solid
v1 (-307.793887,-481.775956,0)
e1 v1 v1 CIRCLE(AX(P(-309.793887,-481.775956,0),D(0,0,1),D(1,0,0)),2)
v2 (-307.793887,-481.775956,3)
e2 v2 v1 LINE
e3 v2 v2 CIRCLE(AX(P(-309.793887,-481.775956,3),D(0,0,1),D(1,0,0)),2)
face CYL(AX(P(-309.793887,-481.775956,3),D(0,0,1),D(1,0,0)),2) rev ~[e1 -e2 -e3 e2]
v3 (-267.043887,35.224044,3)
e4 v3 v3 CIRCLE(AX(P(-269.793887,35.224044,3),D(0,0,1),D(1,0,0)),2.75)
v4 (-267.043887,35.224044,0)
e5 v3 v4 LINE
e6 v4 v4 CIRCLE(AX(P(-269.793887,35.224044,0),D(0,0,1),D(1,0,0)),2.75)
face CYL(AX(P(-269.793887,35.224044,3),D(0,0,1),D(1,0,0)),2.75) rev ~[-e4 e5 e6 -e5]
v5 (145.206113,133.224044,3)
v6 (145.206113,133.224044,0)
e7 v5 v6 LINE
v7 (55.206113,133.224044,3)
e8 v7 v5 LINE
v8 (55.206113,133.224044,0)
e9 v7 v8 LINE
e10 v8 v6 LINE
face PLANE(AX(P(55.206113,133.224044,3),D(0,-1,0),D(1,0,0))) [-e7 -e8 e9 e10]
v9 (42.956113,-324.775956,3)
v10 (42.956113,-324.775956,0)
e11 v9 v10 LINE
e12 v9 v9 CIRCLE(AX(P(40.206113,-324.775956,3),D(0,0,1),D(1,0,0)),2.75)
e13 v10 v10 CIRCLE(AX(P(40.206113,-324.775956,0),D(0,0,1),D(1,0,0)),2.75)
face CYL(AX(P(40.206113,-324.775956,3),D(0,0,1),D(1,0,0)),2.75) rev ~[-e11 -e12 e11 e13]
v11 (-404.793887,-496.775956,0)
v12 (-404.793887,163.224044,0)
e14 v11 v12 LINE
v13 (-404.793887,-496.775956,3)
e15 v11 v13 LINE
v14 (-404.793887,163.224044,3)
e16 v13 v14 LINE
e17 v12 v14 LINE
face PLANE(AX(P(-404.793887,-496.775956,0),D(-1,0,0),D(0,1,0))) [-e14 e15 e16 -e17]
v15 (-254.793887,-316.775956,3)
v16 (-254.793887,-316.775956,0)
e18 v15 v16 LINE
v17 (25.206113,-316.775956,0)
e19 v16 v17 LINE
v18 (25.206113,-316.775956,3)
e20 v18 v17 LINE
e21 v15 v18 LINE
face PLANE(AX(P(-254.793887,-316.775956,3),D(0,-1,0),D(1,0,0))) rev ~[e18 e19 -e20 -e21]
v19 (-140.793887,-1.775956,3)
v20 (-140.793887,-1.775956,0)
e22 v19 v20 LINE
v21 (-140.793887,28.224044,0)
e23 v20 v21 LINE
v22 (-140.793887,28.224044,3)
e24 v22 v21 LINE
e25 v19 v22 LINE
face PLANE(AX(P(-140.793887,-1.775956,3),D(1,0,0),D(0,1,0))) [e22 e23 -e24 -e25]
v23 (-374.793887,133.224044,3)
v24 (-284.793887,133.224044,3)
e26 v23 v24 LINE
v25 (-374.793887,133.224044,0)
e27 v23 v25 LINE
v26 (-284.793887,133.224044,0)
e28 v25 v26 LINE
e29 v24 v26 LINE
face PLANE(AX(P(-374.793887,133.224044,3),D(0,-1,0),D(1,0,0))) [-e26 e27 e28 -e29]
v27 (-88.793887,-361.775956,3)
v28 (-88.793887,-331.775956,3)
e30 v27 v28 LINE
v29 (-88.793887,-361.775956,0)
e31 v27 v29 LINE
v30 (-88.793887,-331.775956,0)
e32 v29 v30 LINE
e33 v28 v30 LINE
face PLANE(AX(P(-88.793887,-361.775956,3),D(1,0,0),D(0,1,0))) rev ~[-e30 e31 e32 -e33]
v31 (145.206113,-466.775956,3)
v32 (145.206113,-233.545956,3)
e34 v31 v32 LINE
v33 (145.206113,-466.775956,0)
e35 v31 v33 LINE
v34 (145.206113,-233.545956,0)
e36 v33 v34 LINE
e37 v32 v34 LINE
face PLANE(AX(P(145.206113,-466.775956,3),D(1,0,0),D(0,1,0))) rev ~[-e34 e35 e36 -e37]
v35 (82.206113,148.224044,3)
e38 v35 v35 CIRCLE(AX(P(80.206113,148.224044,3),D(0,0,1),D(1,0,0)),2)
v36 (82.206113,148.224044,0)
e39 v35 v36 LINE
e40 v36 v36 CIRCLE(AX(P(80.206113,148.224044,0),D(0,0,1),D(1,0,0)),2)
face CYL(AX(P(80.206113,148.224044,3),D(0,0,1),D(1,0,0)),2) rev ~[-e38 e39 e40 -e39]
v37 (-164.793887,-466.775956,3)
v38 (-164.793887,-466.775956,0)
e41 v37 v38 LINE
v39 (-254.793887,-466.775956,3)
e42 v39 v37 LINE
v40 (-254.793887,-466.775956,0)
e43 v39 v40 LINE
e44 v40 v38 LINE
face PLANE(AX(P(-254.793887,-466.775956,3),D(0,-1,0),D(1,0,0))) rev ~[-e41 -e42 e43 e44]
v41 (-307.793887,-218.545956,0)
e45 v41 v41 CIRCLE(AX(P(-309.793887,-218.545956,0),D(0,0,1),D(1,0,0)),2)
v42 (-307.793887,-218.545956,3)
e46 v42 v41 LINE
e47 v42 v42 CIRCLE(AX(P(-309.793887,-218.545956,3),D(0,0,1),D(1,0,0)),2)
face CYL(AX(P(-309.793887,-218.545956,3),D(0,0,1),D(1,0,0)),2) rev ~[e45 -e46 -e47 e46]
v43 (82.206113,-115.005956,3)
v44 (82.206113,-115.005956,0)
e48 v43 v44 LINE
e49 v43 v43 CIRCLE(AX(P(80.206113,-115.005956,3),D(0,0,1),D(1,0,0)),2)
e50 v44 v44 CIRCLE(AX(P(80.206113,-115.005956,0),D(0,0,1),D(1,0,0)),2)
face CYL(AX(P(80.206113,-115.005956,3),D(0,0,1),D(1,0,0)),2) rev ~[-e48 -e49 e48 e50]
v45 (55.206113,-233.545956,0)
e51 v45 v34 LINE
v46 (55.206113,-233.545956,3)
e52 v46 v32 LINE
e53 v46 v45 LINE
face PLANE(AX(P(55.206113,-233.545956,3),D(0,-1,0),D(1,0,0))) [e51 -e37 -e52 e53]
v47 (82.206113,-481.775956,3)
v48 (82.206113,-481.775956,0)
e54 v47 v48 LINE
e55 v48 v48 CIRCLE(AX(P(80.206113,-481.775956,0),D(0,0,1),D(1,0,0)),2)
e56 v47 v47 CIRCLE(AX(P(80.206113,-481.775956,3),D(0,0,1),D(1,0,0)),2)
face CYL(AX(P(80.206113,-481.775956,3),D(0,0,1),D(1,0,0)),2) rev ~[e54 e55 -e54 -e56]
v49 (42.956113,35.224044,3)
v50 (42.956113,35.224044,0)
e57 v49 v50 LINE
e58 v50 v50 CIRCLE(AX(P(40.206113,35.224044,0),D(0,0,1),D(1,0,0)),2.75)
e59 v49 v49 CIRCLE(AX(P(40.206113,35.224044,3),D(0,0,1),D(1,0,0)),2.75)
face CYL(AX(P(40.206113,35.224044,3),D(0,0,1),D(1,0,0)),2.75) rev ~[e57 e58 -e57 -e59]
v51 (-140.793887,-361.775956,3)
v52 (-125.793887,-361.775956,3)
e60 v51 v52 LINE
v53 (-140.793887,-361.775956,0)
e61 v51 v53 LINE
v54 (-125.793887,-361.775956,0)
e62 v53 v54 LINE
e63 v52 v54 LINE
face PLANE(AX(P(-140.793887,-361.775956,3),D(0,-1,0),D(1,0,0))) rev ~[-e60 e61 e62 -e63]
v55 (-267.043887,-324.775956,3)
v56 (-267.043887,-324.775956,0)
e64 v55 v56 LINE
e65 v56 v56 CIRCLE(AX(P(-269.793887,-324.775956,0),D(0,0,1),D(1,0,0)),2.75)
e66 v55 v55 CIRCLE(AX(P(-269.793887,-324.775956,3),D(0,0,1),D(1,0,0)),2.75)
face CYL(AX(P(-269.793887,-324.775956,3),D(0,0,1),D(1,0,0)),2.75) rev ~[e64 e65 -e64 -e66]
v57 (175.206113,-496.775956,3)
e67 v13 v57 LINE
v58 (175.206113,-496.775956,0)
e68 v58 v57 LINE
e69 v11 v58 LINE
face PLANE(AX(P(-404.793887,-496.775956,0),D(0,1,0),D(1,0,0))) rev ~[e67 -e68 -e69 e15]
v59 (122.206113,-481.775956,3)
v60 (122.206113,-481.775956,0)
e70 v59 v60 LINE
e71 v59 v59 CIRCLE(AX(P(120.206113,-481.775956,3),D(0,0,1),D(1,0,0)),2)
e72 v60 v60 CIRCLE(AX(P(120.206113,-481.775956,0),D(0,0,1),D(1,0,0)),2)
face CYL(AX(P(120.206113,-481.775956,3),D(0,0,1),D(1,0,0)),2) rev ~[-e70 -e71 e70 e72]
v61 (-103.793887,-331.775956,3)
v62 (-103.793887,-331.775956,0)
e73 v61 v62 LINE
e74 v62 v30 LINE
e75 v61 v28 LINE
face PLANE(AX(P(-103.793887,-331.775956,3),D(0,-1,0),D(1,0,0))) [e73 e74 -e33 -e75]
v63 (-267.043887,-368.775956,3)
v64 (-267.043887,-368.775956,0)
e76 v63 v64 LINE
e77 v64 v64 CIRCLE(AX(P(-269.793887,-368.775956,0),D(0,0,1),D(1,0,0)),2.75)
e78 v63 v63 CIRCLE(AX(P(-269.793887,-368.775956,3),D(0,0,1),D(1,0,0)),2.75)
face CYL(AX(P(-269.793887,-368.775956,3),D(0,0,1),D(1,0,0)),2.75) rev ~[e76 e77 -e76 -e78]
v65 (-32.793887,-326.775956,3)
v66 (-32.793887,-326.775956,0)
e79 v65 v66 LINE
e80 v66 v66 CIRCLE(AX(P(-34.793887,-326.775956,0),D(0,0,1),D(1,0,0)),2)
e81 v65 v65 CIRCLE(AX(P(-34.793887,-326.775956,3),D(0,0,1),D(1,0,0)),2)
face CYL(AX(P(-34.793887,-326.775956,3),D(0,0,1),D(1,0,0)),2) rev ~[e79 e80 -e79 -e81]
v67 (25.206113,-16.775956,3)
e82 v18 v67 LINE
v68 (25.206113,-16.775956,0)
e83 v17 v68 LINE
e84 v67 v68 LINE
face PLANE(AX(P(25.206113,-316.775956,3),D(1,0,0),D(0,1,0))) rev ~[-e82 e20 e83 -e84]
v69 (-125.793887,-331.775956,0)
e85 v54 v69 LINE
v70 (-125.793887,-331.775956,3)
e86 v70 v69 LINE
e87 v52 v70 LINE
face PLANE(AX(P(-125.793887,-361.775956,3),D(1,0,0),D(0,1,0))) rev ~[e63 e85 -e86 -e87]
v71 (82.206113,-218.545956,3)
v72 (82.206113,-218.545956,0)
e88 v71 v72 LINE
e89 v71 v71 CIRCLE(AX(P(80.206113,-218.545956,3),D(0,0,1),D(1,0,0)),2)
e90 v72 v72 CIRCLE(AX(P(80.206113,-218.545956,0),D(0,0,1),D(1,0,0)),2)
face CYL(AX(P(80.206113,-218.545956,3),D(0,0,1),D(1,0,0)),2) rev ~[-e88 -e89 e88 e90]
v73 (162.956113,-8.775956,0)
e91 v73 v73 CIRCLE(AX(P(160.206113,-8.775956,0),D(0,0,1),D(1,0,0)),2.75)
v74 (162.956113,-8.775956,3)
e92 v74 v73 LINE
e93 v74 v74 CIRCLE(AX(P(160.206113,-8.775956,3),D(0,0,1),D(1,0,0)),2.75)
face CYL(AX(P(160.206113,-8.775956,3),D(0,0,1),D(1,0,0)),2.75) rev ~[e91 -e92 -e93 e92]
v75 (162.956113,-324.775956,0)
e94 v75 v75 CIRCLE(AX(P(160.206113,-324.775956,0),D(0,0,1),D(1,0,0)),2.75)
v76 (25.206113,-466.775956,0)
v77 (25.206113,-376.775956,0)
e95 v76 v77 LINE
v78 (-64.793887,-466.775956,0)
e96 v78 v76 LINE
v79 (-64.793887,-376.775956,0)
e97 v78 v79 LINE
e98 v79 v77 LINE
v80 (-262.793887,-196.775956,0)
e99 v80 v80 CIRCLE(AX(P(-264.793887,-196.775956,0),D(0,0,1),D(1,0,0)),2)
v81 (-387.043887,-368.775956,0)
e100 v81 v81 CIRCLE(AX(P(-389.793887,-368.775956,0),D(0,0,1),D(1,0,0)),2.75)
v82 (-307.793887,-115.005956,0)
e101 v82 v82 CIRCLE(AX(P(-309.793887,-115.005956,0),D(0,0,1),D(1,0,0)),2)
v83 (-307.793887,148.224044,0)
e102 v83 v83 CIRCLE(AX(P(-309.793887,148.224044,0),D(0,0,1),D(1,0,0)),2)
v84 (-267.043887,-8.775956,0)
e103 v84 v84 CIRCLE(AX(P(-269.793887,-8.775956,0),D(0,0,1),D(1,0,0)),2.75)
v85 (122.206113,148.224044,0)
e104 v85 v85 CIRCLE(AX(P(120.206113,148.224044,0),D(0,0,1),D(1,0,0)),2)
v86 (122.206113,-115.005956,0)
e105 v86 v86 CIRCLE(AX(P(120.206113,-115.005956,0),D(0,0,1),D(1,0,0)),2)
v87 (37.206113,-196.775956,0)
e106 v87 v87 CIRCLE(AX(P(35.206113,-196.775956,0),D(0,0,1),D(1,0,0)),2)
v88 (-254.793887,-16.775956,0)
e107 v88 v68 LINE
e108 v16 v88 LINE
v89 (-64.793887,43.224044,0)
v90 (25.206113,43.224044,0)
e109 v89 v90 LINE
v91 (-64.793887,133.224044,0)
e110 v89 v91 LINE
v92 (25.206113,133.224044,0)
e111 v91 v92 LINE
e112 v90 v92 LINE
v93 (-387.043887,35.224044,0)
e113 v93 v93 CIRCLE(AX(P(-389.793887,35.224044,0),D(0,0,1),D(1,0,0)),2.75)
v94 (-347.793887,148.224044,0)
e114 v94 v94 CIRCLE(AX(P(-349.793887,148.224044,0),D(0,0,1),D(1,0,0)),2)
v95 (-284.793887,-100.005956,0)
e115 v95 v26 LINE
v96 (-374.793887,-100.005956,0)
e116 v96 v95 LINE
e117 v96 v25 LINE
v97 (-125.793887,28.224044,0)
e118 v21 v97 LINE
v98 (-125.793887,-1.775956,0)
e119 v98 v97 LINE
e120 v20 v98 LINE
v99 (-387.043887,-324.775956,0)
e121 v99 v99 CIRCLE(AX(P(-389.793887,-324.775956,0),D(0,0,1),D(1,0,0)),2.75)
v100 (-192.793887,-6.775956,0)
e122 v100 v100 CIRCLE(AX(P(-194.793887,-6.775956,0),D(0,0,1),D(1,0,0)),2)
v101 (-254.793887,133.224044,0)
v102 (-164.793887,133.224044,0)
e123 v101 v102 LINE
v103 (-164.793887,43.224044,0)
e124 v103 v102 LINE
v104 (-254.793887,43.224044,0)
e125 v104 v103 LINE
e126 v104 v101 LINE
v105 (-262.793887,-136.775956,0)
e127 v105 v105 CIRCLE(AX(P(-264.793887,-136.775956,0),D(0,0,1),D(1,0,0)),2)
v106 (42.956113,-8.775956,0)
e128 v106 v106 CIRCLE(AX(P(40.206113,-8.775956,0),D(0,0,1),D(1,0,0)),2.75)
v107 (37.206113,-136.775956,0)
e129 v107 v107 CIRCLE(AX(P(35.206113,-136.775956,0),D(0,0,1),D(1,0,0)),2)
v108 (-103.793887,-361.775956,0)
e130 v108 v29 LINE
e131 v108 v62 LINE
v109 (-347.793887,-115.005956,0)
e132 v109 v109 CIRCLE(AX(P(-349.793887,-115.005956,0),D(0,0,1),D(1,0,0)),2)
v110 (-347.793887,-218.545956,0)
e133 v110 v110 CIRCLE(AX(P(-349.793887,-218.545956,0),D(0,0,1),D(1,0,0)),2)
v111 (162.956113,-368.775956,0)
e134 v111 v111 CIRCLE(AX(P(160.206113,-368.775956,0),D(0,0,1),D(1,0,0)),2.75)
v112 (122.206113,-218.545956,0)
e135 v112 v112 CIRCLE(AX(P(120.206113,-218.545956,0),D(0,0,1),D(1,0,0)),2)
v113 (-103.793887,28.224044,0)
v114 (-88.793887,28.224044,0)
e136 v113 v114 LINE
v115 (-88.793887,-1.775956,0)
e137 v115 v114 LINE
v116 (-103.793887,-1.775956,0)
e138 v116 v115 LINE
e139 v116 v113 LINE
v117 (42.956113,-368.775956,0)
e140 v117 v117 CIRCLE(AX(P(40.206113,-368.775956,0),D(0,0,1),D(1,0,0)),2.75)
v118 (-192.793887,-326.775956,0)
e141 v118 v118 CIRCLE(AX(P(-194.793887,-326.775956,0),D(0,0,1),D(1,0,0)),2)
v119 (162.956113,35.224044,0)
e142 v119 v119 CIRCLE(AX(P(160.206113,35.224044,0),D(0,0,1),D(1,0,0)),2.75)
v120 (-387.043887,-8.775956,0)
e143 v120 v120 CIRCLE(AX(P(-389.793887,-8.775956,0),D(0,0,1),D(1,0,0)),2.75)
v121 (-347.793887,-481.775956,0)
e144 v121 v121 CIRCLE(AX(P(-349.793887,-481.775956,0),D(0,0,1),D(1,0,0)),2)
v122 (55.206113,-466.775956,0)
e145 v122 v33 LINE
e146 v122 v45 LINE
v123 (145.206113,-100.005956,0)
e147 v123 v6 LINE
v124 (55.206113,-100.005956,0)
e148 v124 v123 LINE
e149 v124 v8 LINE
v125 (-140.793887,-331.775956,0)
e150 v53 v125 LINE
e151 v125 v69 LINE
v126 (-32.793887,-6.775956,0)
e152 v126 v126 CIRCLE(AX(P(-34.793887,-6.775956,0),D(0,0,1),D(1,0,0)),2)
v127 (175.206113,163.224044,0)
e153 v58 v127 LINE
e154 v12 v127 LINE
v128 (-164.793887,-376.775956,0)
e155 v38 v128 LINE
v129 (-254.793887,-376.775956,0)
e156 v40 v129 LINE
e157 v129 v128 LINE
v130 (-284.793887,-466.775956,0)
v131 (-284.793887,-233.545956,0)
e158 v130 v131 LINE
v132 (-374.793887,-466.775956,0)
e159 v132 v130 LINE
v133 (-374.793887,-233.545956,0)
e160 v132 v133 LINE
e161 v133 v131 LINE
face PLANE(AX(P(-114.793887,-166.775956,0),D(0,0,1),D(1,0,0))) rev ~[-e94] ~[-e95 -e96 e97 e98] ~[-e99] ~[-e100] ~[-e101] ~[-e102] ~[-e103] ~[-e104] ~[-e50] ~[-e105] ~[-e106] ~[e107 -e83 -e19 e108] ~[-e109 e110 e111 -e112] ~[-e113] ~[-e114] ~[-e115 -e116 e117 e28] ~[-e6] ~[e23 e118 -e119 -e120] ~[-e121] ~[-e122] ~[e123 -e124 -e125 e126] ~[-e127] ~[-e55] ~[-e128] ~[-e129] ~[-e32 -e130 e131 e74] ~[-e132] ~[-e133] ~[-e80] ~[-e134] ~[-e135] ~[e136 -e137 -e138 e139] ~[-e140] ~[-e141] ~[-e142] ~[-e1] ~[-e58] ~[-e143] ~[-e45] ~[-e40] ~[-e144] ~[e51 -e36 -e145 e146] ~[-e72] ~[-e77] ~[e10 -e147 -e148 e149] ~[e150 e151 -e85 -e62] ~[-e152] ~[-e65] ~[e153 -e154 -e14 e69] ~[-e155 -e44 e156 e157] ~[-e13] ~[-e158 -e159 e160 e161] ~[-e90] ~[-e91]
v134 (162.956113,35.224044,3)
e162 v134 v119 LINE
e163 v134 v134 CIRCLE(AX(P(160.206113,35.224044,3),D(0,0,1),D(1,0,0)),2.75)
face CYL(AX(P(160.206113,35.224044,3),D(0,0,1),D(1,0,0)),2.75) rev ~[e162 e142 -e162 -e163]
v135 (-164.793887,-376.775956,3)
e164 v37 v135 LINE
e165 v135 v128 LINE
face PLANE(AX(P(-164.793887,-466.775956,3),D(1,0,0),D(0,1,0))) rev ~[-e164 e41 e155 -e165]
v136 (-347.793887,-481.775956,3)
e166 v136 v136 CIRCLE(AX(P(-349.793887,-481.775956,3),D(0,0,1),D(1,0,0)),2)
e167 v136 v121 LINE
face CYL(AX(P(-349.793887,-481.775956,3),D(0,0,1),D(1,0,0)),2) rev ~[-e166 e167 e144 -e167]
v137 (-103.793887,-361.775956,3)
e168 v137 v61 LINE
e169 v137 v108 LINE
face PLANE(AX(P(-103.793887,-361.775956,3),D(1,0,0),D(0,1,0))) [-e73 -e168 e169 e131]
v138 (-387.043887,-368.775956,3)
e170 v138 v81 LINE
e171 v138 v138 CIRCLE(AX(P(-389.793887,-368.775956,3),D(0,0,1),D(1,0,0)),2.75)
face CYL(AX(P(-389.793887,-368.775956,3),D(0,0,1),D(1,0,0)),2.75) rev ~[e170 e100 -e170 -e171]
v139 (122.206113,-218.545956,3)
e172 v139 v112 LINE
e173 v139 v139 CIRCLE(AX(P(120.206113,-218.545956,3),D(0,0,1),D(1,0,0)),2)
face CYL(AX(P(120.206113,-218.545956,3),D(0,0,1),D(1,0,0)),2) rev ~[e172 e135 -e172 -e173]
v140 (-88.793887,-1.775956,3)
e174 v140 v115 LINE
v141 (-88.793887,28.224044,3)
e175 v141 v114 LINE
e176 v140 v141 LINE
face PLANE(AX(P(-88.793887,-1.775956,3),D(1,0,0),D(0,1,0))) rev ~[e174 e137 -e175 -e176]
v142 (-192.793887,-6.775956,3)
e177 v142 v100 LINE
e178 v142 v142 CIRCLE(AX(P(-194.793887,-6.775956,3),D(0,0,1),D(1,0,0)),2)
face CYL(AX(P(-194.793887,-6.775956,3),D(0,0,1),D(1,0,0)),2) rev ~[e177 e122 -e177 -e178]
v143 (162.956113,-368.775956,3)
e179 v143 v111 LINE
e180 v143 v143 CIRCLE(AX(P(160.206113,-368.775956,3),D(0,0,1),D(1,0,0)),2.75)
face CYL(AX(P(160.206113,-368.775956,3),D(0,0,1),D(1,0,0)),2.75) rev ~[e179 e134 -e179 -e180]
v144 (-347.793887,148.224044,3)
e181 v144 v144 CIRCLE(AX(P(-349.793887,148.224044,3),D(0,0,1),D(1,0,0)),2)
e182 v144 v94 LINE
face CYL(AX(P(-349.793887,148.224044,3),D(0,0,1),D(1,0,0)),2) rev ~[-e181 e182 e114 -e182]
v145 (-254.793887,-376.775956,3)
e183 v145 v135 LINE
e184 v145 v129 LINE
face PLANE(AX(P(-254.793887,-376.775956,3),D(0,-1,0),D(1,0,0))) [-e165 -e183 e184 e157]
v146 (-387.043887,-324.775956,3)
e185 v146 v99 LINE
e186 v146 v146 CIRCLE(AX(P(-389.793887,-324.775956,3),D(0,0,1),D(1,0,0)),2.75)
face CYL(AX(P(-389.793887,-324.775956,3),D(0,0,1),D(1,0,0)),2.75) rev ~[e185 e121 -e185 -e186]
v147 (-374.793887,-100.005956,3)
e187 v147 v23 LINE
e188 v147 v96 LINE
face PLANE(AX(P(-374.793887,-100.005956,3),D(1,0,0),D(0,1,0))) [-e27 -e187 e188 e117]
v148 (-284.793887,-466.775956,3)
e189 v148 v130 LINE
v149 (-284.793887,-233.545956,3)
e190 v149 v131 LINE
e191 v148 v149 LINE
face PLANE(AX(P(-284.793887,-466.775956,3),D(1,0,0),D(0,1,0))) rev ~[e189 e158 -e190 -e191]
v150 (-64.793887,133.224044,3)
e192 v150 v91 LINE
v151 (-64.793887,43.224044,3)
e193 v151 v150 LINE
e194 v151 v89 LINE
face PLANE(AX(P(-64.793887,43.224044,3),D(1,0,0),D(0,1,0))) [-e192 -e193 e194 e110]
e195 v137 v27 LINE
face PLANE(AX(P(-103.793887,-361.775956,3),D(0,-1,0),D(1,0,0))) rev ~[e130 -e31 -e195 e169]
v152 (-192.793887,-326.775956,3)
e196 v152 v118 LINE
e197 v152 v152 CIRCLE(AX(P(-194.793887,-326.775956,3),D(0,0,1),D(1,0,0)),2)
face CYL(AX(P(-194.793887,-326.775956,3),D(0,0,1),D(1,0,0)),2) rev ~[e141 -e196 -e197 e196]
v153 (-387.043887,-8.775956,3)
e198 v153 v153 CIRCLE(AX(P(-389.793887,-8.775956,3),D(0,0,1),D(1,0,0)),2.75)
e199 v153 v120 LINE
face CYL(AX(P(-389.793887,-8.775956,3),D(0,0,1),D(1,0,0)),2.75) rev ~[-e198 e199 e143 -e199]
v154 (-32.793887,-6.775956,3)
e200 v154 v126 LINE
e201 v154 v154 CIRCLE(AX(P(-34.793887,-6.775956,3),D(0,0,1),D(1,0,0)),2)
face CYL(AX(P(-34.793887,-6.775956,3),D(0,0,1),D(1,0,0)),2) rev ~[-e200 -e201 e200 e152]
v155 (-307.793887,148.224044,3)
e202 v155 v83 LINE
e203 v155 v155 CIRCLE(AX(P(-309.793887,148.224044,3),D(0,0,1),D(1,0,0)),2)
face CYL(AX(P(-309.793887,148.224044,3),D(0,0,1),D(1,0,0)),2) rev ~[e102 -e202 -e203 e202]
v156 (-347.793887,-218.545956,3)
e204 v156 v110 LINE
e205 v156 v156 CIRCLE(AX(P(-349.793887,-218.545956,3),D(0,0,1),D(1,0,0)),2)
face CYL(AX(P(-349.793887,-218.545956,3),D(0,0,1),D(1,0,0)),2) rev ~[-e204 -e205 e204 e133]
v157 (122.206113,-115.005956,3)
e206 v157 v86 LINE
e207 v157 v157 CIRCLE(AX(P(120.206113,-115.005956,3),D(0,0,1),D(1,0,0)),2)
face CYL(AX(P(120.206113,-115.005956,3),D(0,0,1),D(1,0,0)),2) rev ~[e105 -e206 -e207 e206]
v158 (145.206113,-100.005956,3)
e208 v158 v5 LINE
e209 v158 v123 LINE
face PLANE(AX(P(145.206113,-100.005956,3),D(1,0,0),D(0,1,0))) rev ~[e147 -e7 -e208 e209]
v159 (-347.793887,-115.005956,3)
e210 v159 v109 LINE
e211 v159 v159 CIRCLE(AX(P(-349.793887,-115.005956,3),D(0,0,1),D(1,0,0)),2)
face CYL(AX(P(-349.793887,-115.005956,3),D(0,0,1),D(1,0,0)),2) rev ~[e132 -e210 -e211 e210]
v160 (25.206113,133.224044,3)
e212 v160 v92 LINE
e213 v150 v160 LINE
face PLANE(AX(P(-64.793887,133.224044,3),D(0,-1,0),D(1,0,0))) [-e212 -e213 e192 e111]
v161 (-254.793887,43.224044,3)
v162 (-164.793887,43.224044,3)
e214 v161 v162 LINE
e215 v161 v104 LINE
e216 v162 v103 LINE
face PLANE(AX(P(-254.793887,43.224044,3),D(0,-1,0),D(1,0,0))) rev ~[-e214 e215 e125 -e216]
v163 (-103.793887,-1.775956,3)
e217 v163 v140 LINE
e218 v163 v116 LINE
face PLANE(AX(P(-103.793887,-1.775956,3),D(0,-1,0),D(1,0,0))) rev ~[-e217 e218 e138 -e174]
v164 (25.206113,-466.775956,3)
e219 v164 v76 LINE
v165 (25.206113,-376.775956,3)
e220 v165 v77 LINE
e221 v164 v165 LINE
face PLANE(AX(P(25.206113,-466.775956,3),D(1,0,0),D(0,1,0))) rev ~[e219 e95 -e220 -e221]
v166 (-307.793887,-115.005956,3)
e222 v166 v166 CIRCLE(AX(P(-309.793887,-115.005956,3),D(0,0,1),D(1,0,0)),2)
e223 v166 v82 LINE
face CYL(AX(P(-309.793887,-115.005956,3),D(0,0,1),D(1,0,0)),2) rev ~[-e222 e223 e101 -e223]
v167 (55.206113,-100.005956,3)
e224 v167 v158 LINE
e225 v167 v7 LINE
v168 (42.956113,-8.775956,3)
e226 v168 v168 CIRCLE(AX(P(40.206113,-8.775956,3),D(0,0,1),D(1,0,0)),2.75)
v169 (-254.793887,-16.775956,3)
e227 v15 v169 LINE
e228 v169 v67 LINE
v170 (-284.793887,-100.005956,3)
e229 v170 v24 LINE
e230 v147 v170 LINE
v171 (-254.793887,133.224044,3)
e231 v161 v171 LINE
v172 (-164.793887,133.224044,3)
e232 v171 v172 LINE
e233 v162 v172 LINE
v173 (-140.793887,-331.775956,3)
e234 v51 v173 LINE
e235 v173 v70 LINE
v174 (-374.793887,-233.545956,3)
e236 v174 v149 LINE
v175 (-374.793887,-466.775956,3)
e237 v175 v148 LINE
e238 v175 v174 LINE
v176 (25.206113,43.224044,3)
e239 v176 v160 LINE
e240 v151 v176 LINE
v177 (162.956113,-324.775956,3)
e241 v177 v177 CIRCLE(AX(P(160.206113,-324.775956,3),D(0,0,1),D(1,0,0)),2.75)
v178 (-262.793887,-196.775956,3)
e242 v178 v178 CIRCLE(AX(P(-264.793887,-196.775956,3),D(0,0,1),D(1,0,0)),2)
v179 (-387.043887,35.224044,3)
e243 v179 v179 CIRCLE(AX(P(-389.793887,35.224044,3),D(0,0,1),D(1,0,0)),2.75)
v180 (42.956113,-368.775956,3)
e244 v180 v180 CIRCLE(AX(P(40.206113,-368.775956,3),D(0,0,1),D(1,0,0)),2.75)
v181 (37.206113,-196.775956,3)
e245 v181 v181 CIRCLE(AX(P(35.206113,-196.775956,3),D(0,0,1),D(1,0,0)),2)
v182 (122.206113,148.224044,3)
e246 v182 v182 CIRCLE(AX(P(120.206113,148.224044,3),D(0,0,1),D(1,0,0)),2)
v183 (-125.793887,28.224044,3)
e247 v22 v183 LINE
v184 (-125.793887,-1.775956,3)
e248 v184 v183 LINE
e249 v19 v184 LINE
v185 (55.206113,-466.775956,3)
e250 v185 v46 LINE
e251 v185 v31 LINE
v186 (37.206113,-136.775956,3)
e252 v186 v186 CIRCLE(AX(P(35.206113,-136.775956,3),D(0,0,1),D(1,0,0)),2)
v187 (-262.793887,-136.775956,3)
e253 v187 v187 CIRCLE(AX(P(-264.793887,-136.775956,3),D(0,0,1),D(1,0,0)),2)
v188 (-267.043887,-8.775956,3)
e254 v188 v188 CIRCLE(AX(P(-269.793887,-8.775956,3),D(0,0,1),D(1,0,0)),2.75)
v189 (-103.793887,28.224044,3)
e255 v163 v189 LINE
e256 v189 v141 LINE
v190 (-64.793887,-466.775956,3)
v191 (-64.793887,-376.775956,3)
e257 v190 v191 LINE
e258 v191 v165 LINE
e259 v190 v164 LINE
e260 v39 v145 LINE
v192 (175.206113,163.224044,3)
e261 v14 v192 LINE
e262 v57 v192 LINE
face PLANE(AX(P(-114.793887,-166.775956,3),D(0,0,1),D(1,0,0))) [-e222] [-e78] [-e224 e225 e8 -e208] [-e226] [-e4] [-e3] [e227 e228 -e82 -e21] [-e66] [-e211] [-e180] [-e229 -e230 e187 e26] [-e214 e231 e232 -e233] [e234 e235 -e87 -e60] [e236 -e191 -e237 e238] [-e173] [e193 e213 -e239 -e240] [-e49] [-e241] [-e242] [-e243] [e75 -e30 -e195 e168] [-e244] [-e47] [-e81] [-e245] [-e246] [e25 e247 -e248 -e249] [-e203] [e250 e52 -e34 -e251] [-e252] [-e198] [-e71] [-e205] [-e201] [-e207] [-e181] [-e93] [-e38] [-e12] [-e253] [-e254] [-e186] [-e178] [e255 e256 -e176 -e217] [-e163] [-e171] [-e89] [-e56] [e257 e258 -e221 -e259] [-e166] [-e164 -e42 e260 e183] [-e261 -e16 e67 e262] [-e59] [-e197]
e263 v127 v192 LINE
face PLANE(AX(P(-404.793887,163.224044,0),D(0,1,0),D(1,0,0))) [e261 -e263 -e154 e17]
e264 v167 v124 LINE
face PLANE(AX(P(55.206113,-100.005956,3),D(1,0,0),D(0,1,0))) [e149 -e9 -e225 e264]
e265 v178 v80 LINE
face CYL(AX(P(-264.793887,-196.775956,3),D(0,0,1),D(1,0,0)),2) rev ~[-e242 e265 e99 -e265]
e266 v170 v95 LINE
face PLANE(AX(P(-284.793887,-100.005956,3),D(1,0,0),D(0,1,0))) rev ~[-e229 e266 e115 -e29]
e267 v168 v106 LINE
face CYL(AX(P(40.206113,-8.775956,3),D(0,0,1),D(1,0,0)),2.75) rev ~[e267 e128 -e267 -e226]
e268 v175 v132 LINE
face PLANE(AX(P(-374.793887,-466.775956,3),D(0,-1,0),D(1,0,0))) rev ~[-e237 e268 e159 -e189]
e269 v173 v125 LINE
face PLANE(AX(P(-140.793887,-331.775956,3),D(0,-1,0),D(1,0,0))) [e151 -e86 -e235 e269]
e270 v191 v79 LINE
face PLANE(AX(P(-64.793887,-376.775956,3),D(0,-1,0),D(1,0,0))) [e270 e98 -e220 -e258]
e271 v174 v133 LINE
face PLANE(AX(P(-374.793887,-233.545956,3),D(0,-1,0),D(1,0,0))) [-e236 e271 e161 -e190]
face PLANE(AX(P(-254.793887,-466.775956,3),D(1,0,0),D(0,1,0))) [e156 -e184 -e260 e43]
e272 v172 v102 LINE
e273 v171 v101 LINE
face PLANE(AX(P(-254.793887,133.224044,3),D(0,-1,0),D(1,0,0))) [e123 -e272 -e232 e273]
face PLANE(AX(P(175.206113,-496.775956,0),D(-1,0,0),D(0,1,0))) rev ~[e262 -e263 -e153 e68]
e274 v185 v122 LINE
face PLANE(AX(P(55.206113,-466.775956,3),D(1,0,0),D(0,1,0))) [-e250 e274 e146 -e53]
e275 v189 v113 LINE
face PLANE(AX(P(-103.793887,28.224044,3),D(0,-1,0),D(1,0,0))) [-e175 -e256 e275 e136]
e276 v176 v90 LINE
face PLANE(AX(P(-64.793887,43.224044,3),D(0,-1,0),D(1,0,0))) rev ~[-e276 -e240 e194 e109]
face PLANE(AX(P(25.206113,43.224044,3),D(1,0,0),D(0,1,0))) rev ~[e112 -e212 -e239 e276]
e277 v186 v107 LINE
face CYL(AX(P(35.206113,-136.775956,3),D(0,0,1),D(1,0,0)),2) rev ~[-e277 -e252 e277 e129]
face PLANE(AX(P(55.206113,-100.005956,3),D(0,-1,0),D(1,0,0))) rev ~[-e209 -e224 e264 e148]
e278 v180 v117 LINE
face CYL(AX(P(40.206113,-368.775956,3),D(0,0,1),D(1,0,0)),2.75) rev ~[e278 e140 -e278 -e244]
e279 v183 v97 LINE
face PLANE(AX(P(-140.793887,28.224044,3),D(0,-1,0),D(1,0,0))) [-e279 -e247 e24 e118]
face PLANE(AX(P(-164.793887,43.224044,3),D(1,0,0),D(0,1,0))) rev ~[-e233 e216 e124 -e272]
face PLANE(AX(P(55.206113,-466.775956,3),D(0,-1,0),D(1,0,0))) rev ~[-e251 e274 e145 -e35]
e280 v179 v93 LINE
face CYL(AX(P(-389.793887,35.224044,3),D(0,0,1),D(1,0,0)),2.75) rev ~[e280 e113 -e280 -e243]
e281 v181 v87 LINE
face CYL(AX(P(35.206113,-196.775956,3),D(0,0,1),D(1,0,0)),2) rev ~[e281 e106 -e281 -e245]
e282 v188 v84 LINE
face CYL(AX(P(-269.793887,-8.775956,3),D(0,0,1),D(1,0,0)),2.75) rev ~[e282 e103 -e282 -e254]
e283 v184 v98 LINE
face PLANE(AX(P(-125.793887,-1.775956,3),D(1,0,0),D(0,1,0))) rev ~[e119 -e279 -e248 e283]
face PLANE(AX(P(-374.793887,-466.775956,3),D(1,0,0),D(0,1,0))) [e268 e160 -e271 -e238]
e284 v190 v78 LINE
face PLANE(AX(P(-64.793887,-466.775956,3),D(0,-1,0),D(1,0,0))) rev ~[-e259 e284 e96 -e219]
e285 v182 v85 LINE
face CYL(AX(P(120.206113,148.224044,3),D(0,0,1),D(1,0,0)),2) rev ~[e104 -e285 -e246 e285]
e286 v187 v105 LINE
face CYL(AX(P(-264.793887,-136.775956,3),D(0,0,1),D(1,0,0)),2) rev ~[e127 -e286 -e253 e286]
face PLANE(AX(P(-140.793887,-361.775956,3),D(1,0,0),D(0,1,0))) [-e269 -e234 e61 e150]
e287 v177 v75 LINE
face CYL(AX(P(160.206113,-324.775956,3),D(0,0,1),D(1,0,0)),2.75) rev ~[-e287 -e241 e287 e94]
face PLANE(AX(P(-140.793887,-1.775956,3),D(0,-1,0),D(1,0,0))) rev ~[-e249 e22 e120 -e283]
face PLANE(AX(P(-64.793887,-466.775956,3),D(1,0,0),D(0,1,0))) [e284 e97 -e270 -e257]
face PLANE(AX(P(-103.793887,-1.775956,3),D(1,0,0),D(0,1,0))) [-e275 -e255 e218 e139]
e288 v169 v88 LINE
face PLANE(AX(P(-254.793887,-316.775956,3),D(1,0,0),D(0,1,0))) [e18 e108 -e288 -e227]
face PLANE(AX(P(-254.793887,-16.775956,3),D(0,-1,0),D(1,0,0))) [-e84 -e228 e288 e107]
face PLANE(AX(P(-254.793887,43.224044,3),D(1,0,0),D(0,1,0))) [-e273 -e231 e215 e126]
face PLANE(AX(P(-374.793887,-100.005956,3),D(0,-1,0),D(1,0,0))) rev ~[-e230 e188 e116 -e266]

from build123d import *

# Parameters (mm, degrees)
SKETCH_1_W          = 580
SKETCH_1_H          = 660
EXTRUDE_1_DEPTH     = 3
SKETCH_2_W          = 90
SKETCH_2_H          = 233.23
CUT_EXTRUDE_1_DEPTH = 3
SKETCH_3_W          = 90
SKETCH_3_H          = 90
CUT_EXTRUDE_2_DEPTH = 4
SKETCH_4_W          = 280
SKETCH_4_H          = 300
CUT_EXTRUDE_3_DEPTH = 3
SKETCH_5_W          = 15
SKETCH_5_H          = 30
CUT_EXTRUDE_4_DEPTH = 3
SKETCH_6_R          = 2
CUT_EXTRUDE_5_DEPTH = 4
SKETCH_7_R          = 2.75
CUT_EXTRUDE_6_DEPTH = 4
SKETCH_8_R          = 2
CUT_EXTRUDE_7_DEPTH = 3


with BuildPart() as part:
    # 草圖1 → 填料-伸長1 (new body)
    with BuildSketch(Plane.XY):
        with Locations((-114.793886735, -166.775956284)):
            Rectangle(SKETCH_1_W, SKETCH_1_H)
    extrude(amount=EXTRUDE_1_DEPTH)

    # 草圖2 → 除料-伸長1 (cut)
    with BuildSketch(Plane.XY.offset(3)):
        with Locations((-329.793886735, -350.160956284)):
            Rectangle(SKETCH_2_W, SKETCH_2_H)
        with Locations((100.206113265, -350.160956284)):
            Rectangle(SKETCH_2_W, SKETCH_2_H)
        with Locations((100.206113265, 16.609043716)):
            Rectangle(SKETCH_2_W, SKETCH_2_H)
        with Locations((-329.793886735, 16.609043716)):
            Rectangle(SKETCH_2_W, SKETCH_2_H)
    extrude(amount=-CUT_EXTRUDE_1_DEPTH, mode=Mode.SUBTRACT)

    # 草圖3 → 除料-伸長2 (cut, through all)
    with BuildSketch(Plane.XY.offset(3)):
        with Locations((-209.793886735, -421.775956284)):
            Rectangle(SKETCH_3_W, SKETCH_3_H)
        with Locations((-19.793886735, -421.775956284)):
            Rectangle(SKETCH_3_W, SKETCH_3_H)
        with Locations((-19.793886735, 88.224043716)):
            Rectangle(SKETCH_3_W, SKETCH_3_H)
        with Locations((-209.793886735, 88.224043716)):
            Rectangle(SKETCH_3_W, SKETCH_3_H)
    extrude(amount=-CUT_EXTRUDE_2_DEPTH, mode=Mode.SUBTRACT)

    # 草圖4 → 除料-伸長3 (cut)
    with BuildSketch(Plane.XY.offset(3)):
        with Locations((-114.793886735, -166.775956284)):
            Rectangle(SKETCH_4_W, SKETCH_4_H)
    extrude(amount=-CUT_EXTRUDE_3_DEPTH, mode=Mode.SUBTRACT)

    # 草圖5 → 除料-伸長4 (cut)
    with BuildSketch(Plane.XY.offset(3)):
        with Locations((-96.293886735, -346.775956284)):
            Rectangle(SKETCH_5_W, SKETCH_5_H)
        with Locations((-133.293886735, -346.775956284)):
            Rectangle(SKETCH_5_W, SKETCH_5_H)
        with Locations((-133.293886735, 13.224043716)):
            Rectangle(SKETCH_5_W, SKETCH_5_H)
        with Locations((-96.293886735, 13.224043716)):
            Rectangle(SKETCH_5_W, SKETCH_5_H)
    extrude(amount=-CUT_EXTRUDE_4_DEPTH, mode=Mode.SUBTRACT)

    # 草圖6 → 除料-伸長5 (cut, through all)
    with BuildSketch(Plane.XY.offset(3)):
        with Locations((-349.793886735, -218.545956284)):
            Circle(SKETCH_6_R)
        with Locations((-309.793886735, -218.545956284)):
            Circle(SKETCH_6_R)
        with Locations((-309.793886735, -481.775956284)):
            Circle(SKETCH_6_R)
        with Locations((-349.793886735, -481.775956284)):
            Circle(SKETCH_6_R)
        with Locations((80.206113265, -481.775956284)):
            Circle(SKETCH_6_R)
        with Locations((120.206113265, -481.775956284)):
            Circle(SKETCH_6_R)
        with Locations((80.206113265, -218.545956284)):
            Circle(SKETCH_6_R)
        with Locations((120.206113265, -218.545956284)):
            Circle(SKETCH_6_R)
        with Locations((-309.793886735, 148.224043716)):
            Circle(SKETCH_6_R)
        with Locations((-349.793886735, 148.224043716)):
            Circle(SKETCH_6_R)
        with Locations((-309.793886735, -115.005956284)):
            Circle(SKETCH_6_R)
        with Locations((-349.793886735, -115.005956284)):
            Circle(SKETCH_6_R)
        with Locations((80.206113265, -115.005956284)):
            Circle(SKETCH_6_R)
        with Locations((120.206113265, -115.005956284)):
            Circle(SKETCH_6_R)
        with Locations((120.206113265, 148.224043716)):
            Circle(SKETCH_6_R)
        with Locations((80.206113265, 148.224043716)):
            Circle(SKETCH_6_R)
    extrude(amount=-CUT_EXTRUDE_5_DEPTH, mode=Mode.SUBTRACT)

    # 草圖7 → 除料-伸長6 (cut, through all)
    with BuildSketch(Plane.XY.offset(3)):
        with Locations((-389.793886735, -368.775956284)):
            Circle(SKETCH_7_R)
        with Locations((-389.793886735, -324.775956284)):
            Circle(SKETCH_7_R)
        with Locations((-269.793886735, -324.775956284)):
            Circle(SKETCH_7_R)
        with Locations((-269.793886735, -368.775956284)):
            Circle(SKETCH_7_R)
        with Locations((40.206113265, -368.775956284)):
            Circle(SKETCH_7_R)
        with Locations((40.206113265, -324.775956284)):
            Circle(SKETCH_7_R)
        with Locations((160.206113265, -324.775956284)):
            Circle(SKETCH_7_R)
        with Locations((160.206113265, -368.775956284)):
            Circle(SKETCH_7_R)
        with Locations((160.206113265, 35.224043716)):
            Circle(SKETCH_7_R)
        with Locations((160.206113265, -8.775956284)):
            Circle(SKETCH_7_R)
        with Locations((40.206113265, -8.775956284)):
            Circle(SKETCH_7_R)
        with Locations((40.206113265, 35.224043716)):
            Circle(SKETCH_7_R)
        with Locations((-269.793886735, 35.224043716)):
            Circle(SKETCH_7_R)
        with Locations((-269.793886735, -8.775956284)):
            Circle(SKETCH_7_R)
        with Locations((-389.793886735, -8.775956284)):
            Circle(SKETCH_7_R)
        with Locations((-389.793886735, 35.224043716)):
            Circle(SKETCH_7_R)
    extrude(amount=-CUT_EXTRUDE_6_DEPTH, mode=Mode.SUBTRACT)

    # 草圖8 → 除料-伸長7 (cut)
    with BuildSketch(Plane.XY.offset(3)):
        with Locations((-194.793886735, -6.775956284)):
            Circle(SKETCH_8_R)
        with Locations((-34.793886735, -6.775956284)):
            Circle(SKETCH_8_R)
        with Locations((-34.793886735, -326.775956284)):
            Circle(SKETCH_8_R)
        with Locations((-194.793886735, -326.775956284)):
            Circle(SKETCH_8_R)
        with Locations((-264.793886735, -136.775956284)):
            Circle(SKETCH_8_R)
        with Locations((-264.793886735, -196.775956284)):
            Circle(SKETCH_8_R)
        with Locations((35.206113265, -136.775956284)):
            Circle(SKETCH_8_R)
        with Locations((35.206113265, -196.775956284)):
            Circle(SKETCH_8_R)
    extrude(amount=-CUT_EXTRUDE_7_DEPTH, mode=Mode.SUBTRACT)


solid = part.part
